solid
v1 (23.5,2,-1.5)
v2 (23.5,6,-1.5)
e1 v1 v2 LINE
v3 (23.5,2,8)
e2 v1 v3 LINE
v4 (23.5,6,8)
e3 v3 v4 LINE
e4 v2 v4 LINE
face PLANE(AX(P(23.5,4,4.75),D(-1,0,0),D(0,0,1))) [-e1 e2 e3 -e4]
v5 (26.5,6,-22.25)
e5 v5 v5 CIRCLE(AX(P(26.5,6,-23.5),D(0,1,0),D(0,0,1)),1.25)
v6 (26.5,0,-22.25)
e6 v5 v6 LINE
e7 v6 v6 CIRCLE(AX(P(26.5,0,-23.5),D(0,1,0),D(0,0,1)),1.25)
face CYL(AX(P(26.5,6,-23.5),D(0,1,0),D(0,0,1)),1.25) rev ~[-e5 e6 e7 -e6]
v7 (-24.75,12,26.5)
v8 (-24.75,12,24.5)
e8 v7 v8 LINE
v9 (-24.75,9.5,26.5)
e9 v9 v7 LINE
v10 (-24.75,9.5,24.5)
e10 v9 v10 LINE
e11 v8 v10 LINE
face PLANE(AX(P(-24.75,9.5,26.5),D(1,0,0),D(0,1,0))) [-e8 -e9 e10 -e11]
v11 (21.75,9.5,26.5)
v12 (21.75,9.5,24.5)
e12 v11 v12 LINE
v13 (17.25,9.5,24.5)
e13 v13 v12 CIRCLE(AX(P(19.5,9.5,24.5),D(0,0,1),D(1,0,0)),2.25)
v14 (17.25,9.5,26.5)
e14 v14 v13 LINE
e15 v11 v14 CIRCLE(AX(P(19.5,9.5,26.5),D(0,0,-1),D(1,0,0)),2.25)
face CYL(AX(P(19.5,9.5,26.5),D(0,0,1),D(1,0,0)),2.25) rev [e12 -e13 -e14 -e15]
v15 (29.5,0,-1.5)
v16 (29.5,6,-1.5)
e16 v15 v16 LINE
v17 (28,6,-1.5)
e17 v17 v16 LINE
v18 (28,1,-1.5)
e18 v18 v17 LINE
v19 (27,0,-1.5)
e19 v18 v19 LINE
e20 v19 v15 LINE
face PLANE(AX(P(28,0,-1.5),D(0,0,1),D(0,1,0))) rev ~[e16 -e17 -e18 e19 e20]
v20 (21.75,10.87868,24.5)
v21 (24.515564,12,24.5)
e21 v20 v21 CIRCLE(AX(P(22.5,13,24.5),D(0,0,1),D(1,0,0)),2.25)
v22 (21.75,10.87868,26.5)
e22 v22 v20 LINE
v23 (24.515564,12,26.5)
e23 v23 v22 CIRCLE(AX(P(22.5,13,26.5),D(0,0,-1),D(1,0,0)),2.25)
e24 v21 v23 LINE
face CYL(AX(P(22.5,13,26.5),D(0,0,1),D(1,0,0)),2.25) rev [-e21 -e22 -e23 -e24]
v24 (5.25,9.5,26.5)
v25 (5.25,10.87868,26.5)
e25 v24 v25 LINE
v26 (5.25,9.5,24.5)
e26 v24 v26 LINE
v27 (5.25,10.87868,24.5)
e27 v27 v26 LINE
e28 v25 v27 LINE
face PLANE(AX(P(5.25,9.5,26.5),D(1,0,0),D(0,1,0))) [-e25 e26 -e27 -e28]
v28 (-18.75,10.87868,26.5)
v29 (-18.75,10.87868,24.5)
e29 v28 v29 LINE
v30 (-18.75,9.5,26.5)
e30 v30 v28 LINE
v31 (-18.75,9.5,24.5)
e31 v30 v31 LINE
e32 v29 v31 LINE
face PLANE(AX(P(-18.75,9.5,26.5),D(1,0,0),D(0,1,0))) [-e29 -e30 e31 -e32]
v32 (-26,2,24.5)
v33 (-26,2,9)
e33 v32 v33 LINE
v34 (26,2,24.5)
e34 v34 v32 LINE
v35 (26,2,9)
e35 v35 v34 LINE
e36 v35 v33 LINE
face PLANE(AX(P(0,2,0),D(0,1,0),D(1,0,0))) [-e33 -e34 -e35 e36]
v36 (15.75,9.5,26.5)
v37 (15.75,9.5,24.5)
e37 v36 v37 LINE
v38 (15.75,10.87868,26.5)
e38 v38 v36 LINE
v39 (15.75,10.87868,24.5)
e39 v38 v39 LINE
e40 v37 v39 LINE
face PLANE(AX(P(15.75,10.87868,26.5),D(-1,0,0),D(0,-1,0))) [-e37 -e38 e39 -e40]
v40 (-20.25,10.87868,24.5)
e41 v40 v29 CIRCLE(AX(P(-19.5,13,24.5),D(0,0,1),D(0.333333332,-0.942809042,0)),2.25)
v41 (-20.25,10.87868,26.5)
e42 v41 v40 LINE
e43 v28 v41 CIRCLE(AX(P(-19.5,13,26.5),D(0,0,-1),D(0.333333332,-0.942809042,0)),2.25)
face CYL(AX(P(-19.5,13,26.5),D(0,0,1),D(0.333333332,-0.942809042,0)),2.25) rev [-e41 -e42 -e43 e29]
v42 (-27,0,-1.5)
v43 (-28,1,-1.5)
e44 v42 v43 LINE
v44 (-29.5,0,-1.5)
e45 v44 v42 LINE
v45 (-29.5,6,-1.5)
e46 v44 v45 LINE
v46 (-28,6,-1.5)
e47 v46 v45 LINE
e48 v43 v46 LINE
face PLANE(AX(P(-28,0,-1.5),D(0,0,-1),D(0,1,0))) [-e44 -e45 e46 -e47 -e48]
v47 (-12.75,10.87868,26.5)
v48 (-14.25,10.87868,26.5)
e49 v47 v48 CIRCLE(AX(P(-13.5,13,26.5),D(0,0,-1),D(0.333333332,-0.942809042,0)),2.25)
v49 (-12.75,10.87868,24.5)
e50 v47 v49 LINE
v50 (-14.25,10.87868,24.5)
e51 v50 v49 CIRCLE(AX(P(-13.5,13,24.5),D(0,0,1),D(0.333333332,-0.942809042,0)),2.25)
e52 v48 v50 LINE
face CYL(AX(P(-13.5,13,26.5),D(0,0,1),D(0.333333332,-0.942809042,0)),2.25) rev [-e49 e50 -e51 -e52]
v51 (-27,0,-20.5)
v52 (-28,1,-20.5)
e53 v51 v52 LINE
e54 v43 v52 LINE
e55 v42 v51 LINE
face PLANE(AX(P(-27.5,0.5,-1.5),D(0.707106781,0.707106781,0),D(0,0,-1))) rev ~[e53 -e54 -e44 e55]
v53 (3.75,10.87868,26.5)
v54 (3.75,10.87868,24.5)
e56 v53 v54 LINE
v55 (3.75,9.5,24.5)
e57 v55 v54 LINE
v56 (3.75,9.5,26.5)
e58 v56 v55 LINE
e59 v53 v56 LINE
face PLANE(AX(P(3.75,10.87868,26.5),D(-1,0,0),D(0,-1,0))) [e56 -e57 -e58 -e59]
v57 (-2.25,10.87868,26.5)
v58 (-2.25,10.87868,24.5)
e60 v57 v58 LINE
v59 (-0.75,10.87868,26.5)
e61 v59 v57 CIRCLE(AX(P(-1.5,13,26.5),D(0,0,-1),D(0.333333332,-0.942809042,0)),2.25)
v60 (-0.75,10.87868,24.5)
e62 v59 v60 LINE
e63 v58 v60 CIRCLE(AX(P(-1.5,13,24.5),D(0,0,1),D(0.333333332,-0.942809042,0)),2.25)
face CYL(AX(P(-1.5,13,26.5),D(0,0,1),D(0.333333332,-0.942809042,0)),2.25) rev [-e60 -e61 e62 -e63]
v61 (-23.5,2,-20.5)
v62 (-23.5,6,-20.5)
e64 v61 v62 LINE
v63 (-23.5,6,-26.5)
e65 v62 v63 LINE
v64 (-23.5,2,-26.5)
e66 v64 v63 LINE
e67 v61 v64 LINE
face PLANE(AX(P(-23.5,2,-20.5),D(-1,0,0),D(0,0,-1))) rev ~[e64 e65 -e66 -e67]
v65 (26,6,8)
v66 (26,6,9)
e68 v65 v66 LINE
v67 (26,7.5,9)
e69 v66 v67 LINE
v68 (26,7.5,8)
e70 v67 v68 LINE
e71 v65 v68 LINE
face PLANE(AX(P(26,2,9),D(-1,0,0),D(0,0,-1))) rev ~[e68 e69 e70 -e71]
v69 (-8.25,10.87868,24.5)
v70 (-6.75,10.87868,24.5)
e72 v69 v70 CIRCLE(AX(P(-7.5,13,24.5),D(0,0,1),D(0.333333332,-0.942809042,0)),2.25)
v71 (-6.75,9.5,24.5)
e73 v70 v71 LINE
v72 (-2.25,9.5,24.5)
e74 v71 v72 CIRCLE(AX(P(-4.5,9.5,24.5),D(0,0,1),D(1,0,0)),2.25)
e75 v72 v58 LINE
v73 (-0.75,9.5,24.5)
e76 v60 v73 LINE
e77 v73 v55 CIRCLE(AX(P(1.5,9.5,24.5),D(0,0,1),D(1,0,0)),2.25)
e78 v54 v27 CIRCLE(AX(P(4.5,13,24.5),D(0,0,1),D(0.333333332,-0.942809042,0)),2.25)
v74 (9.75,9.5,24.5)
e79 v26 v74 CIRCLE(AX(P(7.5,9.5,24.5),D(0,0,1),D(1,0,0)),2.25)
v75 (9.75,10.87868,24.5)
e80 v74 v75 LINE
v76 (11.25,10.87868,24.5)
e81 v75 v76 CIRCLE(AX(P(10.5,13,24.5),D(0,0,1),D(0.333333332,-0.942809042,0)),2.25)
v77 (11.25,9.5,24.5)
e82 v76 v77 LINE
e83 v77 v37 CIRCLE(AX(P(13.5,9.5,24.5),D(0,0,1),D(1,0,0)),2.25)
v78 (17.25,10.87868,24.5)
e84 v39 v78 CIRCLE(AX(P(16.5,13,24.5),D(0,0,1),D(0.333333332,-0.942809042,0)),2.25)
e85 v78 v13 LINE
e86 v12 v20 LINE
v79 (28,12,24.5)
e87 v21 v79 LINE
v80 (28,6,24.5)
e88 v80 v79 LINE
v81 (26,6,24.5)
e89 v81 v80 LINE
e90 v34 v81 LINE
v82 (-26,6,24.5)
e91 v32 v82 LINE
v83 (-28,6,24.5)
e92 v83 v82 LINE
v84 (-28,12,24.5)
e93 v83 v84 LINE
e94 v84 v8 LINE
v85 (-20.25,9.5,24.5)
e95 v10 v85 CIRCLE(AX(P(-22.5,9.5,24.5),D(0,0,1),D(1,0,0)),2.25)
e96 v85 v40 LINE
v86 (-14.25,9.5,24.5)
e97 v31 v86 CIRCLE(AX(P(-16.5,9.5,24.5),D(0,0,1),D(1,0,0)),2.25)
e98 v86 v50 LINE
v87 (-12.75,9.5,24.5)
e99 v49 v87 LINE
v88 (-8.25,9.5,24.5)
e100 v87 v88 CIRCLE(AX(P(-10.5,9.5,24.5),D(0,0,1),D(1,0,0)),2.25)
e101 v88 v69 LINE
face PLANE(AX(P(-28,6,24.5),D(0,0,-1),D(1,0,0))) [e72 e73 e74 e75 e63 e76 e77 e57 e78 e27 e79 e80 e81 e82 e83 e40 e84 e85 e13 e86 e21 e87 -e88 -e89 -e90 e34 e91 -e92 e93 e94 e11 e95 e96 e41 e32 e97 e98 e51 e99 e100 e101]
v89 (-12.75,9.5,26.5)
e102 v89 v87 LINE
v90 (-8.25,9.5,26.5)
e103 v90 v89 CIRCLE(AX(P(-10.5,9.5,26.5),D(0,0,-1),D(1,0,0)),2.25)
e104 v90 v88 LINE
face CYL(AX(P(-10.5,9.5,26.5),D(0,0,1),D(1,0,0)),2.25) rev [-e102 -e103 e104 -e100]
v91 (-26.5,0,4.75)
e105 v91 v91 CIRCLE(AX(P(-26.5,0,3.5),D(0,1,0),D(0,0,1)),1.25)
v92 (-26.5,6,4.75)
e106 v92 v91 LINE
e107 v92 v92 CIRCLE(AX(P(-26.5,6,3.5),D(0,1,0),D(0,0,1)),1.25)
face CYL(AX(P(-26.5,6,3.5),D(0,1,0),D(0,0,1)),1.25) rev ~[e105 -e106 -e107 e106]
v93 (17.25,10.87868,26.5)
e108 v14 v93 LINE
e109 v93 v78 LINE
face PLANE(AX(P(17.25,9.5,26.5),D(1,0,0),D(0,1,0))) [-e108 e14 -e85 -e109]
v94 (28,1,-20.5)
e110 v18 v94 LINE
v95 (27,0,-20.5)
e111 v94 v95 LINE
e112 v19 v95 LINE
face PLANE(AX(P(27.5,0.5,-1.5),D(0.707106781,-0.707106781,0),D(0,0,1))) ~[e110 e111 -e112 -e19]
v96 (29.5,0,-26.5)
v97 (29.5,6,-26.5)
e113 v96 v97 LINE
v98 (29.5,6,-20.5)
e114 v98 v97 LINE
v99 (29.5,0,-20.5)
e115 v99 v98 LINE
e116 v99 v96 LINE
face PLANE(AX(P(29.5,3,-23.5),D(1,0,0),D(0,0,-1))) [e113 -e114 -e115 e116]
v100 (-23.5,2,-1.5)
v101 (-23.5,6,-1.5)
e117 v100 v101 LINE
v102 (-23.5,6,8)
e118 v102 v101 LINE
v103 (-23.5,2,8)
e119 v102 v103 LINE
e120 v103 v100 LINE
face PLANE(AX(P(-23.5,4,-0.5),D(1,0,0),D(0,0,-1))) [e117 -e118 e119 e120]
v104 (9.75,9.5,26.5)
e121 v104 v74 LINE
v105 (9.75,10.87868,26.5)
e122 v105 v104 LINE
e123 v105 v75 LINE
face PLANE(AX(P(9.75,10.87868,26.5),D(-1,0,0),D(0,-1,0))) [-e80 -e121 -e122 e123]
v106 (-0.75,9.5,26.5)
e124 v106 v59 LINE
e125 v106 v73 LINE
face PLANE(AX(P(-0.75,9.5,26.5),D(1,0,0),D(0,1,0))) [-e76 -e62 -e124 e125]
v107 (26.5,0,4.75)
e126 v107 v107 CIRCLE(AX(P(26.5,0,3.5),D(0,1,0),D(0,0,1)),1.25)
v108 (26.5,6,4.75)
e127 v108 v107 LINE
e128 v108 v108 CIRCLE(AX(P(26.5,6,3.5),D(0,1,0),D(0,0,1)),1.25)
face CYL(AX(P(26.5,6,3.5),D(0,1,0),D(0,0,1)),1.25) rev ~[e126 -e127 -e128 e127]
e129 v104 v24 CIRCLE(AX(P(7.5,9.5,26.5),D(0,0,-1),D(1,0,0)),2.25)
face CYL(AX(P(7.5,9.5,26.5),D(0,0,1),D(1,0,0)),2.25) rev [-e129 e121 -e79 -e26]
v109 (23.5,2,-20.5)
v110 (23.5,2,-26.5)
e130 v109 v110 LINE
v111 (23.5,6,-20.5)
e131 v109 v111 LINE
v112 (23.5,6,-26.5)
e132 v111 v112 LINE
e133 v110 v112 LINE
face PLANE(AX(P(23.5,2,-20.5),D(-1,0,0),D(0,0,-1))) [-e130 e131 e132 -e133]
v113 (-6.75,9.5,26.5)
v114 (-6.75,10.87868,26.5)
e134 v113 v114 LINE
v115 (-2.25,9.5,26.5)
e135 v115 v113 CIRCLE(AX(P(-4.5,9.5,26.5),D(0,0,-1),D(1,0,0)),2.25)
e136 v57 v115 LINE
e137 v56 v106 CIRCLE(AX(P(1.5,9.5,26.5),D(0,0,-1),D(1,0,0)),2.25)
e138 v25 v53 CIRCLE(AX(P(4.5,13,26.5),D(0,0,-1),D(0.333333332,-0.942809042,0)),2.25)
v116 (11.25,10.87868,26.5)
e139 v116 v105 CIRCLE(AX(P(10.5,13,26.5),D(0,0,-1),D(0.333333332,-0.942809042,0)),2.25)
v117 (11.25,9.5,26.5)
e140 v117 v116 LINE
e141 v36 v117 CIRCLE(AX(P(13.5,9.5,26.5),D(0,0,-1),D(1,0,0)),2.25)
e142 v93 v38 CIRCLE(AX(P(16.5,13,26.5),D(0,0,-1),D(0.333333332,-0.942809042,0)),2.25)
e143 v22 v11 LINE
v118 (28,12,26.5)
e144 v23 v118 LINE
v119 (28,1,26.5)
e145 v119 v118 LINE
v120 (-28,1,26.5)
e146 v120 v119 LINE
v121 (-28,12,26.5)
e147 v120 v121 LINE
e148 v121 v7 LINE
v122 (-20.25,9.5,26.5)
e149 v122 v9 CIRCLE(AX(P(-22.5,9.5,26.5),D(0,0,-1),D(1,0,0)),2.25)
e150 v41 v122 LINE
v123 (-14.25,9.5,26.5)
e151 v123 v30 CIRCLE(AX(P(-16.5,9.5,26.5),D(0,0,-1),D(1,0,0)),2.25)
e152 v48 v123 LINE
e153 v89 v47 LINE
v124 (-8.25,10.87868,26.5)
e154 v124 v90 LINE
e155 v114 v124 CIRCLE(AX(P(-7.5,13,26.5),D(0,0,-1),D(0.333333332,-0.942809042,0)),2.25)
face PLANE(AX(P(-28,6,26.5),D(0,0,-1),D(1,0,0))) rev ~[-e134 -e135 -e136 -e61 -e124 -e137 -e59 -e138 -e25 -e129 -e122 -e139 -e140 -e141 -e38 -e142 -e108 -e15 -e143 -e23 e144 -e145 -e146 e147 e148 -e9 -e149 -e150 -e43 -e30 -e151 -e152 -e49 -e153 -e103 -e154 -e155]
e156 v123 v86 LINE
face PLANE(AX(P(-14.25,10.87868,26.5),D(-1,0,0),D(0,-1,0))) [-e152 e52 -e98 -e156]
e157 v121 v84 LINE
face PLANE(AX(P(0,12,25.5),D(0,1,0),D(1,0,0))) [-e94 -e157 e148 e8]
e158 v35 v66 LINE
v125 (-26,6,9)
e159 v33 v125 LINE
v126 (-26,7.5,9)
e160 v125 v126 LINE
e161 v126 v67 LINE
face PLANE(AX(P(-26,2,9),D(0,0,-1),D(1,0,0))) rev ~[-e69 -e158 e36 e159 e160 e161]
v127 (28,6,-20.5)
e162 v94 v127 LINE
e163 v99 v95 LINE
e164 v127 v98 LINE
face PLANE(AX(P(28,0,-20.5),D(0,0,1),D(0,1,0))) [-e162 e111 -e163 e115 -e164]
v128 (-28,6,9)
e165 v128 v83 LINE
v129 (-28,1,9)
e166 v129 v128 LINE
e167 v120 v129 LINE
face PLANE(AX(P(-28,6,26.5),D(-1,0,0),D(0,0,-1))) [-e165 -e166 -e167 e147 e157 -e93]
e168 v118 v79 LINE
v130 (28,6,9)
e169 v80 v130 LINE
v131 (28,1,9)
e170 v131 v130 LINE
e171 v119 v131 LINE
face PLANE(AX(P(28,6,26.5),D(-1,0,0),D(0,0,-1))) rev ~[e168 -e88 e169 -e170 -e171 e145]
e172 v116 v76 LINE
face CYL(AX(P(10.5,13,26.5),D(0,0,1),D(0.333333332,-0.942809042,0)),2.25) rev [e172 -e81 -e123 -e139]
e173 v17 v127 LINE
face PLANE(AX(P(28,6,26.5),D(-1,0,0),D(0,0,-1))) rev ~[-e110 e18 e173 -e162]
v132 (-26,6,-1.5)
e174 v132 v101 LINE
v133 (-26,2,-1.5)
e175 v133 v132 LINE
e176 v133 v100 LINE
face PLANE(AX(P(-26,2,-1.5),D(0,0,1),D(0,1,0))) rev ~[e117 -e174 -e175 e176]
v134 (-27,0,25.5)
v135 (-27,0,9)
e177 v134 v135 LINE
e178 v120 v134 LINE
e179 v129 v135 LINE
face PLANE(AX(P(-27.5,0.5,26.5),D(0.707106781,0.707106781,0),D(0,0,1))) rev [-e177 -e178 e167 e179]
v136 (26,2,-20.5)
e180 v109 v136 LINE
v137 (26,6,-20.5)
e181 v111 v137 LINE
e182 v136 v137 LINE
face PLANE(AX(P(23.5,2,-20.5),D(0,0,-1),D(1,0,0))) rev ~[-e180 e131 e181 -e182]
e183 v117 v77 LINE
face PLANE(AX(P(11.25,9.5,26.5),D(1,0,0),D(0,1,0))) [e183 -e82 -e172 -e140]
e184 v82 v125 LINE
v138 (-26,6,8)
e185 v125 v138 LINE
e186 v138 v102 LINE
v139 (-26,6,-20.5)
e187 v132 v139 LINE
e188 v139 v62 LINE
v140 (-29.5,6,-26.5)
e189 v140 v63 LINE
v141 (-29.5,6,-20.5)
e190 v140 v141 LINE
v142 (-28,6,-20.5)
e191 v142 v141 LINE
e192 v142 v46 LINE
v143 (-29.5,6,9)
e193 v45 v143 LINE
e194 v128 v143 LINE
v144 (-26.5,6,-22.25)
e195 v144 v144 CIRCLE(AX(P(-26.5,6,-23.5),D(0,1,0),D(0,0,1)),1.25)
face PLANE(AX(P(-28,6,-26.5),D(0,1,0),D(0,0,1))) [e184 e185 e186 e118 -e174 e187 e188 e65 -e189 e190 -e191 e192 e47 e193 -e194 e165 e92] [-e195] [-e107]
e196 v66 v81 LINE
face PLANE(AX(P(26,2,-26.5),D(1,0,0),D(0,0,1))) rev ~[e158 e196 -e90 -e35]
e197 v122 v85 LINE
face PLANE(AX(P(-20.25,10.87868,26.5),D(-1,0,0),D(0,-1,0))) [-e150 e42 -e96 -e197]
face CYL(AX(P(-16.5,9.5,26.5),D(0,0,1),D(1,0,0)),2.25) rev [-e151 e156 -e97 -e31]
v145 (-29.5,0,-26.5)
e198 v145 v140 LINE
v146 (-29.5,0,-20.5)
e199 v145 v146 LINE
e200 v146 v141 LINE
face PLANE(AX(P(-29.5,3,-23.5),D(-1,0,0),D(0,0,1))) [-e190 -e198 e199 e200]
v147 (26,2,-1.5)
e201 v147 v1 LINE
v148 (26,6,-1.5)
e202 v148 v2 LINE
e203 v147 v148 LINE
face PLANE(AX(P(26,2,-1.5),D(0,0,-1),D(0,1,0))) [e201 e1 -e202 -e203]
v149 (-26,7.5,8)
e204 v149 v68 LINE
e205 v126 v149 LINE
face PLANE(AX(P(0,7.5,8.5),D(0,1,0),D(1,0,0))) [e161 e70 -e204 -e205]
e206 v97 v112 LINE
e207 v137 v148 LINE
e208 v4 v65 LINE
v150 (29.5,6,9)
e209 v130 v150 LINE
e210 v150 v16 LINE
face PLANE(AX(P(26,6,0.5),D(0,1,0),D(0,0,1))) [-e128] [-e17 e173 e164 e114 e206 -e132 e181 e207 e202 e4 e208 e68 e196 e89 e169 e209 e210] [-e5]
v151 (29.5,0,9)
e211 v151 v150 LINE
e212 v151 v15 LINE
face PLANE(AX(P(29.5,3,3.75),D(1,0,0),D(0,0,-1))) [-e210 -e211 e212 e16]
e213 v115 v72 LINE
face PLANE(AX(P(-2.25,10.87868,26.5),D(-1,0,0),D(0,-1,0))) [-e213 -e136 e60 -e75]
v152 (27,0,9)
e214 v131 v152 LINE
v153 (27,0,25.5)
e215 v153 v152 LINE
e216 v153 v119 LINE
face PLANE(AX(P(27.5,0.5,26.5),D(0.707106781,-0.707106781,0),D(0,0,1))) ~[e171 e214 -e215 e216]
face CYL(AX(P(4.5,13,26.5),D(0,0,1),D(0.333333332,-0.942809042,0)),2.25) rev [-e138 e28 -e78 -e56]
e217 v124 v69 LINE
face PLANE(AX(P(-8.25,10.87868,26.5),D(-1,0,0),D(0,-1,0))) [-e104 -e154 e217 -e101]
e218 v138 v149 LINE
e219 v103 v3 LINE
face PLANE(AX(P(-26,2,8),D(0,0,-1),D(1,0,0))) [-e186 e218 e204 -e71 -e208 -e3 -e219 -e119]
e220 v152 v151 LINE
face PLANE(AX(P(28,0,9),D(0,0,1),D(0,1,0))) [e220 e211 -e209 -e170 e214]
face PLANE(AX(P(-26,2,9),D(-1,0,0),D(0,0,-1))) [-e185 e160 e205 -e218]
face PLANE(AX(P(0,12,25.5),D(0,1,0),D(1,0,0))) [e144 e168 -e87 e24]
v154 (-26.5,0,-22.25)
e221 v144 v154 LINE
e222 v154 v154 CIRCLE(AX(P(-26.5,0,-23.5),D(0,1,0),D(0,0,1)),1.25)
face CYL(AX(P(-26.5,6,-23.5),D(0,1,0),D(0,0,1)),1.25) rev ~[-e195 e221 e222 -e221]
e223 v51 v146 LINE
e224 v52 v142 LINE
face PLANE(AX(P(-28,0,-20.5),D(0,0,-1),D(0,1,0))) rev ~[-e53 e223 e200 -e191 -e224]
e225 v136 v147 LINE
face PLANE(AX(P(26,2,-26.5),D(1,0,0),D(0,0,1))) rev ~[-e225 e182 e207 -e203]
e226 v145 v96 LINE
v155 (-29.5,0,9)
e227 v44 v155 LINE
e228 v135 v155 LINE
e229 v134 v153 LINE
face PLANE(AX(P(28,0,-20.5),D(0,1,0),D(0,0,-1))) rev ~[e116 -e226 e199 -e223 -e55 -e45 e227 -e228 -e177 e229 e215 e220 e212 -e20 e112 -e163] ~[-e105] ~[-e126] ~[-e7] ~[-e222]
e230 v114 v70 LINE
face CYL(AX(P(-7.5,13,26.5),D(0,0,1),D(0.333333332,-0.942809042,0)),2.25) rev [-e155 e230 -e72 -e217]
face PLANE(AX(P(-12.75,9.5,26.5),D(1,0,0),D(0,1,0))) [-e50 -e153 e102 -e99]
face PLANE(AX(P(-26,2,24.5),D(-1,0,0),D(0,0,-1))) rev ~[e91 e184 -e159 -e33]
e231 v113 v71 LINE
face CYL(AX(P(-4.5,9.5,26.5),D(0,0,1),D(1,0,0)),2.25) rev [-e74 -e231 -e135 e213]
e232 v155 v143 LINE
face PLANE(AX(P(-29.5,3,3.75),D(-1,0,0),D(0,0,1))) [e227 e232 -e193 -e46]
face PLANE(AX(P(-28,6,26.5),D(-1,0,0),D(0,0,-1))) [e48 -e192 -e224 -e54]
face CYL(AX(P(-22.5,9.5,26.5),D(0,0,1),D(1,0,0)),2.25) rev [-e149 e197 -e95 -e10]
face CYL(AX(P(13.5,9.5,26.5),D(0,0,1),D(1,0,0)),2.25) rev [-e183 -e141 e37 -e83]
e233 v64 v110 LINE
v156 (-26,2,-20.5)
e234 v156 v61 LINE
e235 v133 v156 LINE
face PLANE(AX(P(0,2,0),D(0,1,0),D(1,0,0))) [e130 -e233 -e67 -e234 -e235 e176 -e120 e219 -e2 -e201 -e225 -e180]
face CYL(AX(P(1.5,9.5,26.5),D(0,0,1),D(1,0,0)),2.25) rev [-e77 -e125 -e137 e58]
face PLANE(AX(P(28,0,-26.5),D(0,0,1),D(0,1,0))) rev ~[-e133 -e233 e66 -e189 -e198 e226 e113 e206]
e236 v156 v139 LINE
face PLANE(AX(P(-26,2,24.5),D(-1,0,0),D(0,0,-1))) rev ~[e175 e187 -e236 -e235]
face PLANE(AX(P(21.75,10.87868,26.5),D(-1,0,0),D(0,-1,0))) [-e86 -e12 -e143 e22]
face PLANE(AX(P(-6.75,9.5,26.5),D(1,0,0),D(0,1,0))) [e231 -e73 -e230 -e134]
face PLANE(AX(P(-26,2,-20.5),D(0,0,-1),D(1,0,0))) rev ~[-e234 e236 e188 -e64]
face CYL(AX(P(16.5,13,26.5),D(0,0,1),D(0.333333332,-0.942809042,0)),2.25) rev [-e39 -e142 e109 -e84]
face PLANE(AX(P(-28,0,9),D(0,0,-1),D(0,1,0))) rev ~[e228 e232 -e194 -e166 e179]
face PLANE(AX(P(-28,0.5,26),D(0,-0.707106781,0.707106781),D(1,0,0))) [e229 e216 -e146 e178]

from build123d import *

# Parameters (mm, degrees)
SKETCH1_W            = 56
SKETCH1_H            = 53
BOSS_EXTRUDE1_DEPTH  = 2
BOSS_EXTRUDE2_DEPTH  = 4
SKETCH3_W            = 56
SKETCH3_H            = 2
BOSS_EXTRUDE3_DEPTH  = 6
SKETCH4_W            = 2.5
SKETCH4_H            = 6
BOSS_EXTRUDE4_DEPTH  = 4
SKETCH5_W            = 2.5
SKETCH5_H            = 6
BOSS_EXTRUDE5_DEPTH  = 4
SKETCH6_W            = 6
SKETCH6_H            = 6
BOSS_EXTRUDE6_DEPTH  = 1.5
SKETCH7_W            = 6
SKETCH7_H            = 6
BOSS_EXTRUDE7_DEPTH  = 1.5
SKETCH8_W            = 2
SKETCH8_H            = 4
BOSS_EXTRUDE8_DEPTH  = 2.5
SKETCH9_W            = 2
SKETCH9_H            = 4
BOSS_EXTRUDE9_DEPTH  = 2.5
SKETCH10_W           = 52
SKETCH10_H           = 1
BOSS_EXTRUDE10_DEPTH = 5.5
CUT_EXTRUDE1_DEPTH   = 5.5
SKETCH12_R           = 1.25
CUT_EXTRUDE2_DEPTH   = 15.5
SKETCH13_R           = 1.25
CUT_EXTRUDE3_DEPTH   = 15.5
SKETCH14_W           = 8.5
SKETCH14_H           = 4
BOSS_EXTRUDE11_DEPTH = 2.5
SKETCH15_W           = 8.5
SKETCH15_H           = 4
BOSS_EXTRUDE12_DEPTH = 2.5
SKETCH16_W           = 10.5
SKETCH16_H           = 6
BOSS_EXTRUDE13_DEPTH = 1.5
SKETCH17_W           = 10.5
SKETCH17_H           = 6
BOSS_EXTRUDE14_DEPTH = 1.5
SKETCH18_R           = 1.25
CUT_EXTRUDE4_DEPTH   = 10
SKETCH19_R           = 1.25
CUT_EXTRUDE5_DEPTH   = 10
CHAMFER4_SIZE        = 1


with BuildPart() as part:
    # Sketch1 → Boss-Extrude1 (new body)
    with BuildSketch(Plane(origin=(0, 0, 0), x_dir=(1, 0, 0), z_dir=(0, 1, 0))):
        Rectangle(SKETCH1_W, SKETCH1_H)
    extrude(amount=BOSS_EXTRUDE1_DEPTH)

    # Sketch2 → Boss-Extrude2 (add)
    with BuildSketch(Plane(origin=(0, 2, 0), x_dir=(1, 0, 0), z_dir=(0, 1, 0))):
        Polygon((-26, 26.5), (-28, 26.5), (-28, -23), (-28, -26.5), (-26, -26.5), (26, -26.5), (28, -26.5), (28, -23), (28, 26.5), (26, 26.5), (26, -24.5), (-26, -24.5), align=None)
    extrude(amount=BOSS_EXTRUDE2_DEPTH)

    # Sketch3 → Boss-Extrude3 (add)
    with BuildSketch(Plane(origin=(0, 6, 0), x_dir=(1, 0, 0), z_dir=(0, 1, 0))):
        with Locations((0, -25.5)):
            Rectangle(SKETCH3_W, SKETCH3_H)
    extrude(amount=BOSS_EXTRUDE3_DEPTH)

    # Sketch4 → Boss-Extrude4 (add)
    with BuildSketch(Plane(origin=(0, 2, 0), x_dir=(1, 0, 0), z_dir=(0, 1, 0))):
        with Locations((-24.75, 23.5)):
            Rectangle(SKETCH4_W, SKETCH4_H)
    extrude(amount=BOSS_EXTRUDE4_DEPTH)

    # Sketch5 → Boss-Extrude5 (add)
    with BuildSketch(Plane(origin=(0, 2, 0), x_dir=(1, 0, 0), z_dir=(0, 1, 0))):
        with Locations((24.75, 23.5)):
            Rectangle(SKETCH5_W, SKETCH5_H)
    extrude(amount=BOSS_EXTRUDE5_DEPTH)

    # Sketch6 → Boss-Extrude6 (add)
    with BuildSketch(Plane.ZY.offset(28)):
        with Locations((-23.5, 3)):
            Rectangle(SKETCH6_W, SKETCH6_H)
    extrude(amount=BOSS_EXTRUDE6_DEPTH)

    # Sketch7 → Boss-Extrude7 (add)
    with BuildSketch(Plane(origin=(28, 0, 0), x_dir=(0, 0, -1), z_dir=(1, 0, 0))):
        with Locations((23.5, 3)):
            Rectangle(SKETCH7_W, SKETCH7_H)
    extrude(amount=BOSS_EXTRUDE7_DEPTH)

    # Sketch8 → Boss-Extrude8 (add)
    with BuildSketch(Plane.ZY.offset(-26)):
        with Locations((-0.5, 4)):
            Rectangle(SKETCH8_W, SKETCH8_H)
    extrude(amount=BOSS_EXTRUDE8_DEPTH)

    # Sketch9 → Boss-Extrude9 (add)
    with BuildSketch(Plane(origin=(-26, 0, 0), x_dir=(0, 0, -1), z_dir=(1, 0, 0))):
        with Locations((0.5, 4)):
            Rectangle(SKETCH9_W, SKETCH9_H)
    extrude(amount=BOSS_EXTRUDE9_DEPTH)

    # Sketch10 → Boss-Extrude10 (add)
    with BuildSketch(Plane(origin=(0, 2, 0), x_dir=(1, 0, 0), z_dir=(0, 1, 0))):
        with Locations((0, -8.5)):
            Rectangle(SKETCH10_W, SKETCH10_H)
    extrude(amount=BOSS_EXTRUDE10_DEPTH)

    # Sketch11 → Cut-Extrude1 (cut)
    with BuildSketch(Plane.XY.offset(26.5)):
        with BuildLine():
            Line((-24.75, 9.5), (-24.75, 12))
            Line((-24.75, 12), (24.75, 13))
            ThreePointArc((24.75, 13), (23.799038106, 11.162882693), (21.75, 10.878679656))
            Line((21.75, 10.878679656), (21.75, 9.5))
            ThreePointArc((21.75, 9.5), (19.5, 7.25), (17.25, 9.5))
            Line((17.25, 9.5), (17.25, 10.878679656))
            ThreePointArc((17.25, 10.878679656), (16.5, 10.75), (15.75, 10.878679656))
            Line((15.75, 10.878679656), (15.75, 9.5))
            ThreePointArc((15.75, 9.5), (13.5, 7.25), (11.25, 9.5))
            Line((11.25, 9.5), (11.25, 10.878679656))
            ThreePointArc((11.25, 10.878679656), (10.5, 10.75), (9.75, 10.878679656))
            Line((9.75, 10.878679656), (9.75, 9.5))
            ThreePointArc((9.75, 9.5), (7.5, 7.25), (5.25, 9.5))
            Line((5.25, 9.5), (5.25, 10.878679656))
            ThreePointArc((5.25, 10.878679656), (4.5, 10.75), (3.75, 10.878679656))
            Line((3.75, 10.878679656), (3.75, 9.5))
            ThreePointArc((3.75, 9.5), (1.5, 7.25), (-0.75, 9.5))
            Line((-0.75, 9.5), (-0.75, 10.878679656))
            ThreePointArc((-0.75, 10.878679656), (-1.5, 10.75), (-2.25, 10.878679656))
            Line((-2.25, 10.878679656), (-2.25, 9.5))
            ThreePointArc((-2.25, 9.5), (-4.5, 7.25), (-6.75, 9.5))
            Line((-6.75, 9.5), (-6.75, 10.878679656))
            ThreePointArc((-6.75, 10.878679656), (-7.5, 10.75), (-8.25, 10.878679656))
            Line((-8.25, 10.878679656), (-8.25, 9.5))
            ThreePointArc((-8.25, 9.5), (-10.5, 7.25), (-12.75, 9.5))
            Line((-12.75, 9.5), (-12.75, 10.878679656))
            ThreePointArc((-12.75, 10.878679656), (-13.5, 10.75), (-14.25, 10.878679656))
            Line((-14.25, 10.878679656), (-14.25, 9.5))
            ThreePointArc((-14.25, 9.5), (-16.5, 7.25), (-18.75, 9.5))
            Line((-18.75, 9.5), (-18.75, 10.878679656))
            ThreePointArc((-18.75, 10.878679656), (-19.5, 10.75), (-20.25, 10.878679656))
            Line((-20.25, 10.878679656), (-20.25, 9.5))
            ThreePointArc((-20.25, 9.5), (-22.5, 7.25), (-24.75, 9.5))
        make_face()
    extrude(amount=-CUT_EXTRUDE1_DEPTH, mode=Mode.SUBTRACT)

    # Sketch12 → Cut-Extrude2 (cut)
    with BuildSketch(Plane(origin=(0, 6, 0), x_dir=(1, 0, 0), z_dir=(0, 1, 0))):
        with Locations(Location((26.5, 23.5, 0), (0, 0, 270))):
            Circle(SKETCH12_R)
    extrude(amount=-CUT_EXTRUDE2_DEPTH, mode=Mode.SUBTRACT)

    # Sketch13 → Cut-Extrude3 (cut)
    with BuildSketch(Plane(origin=(0, 6, 0), x_dir=(1, 0, 0), z_dir=(0, 1, 0))):
        with Locations(Location((-26.5, 23.5, 0), (0, 0, 270))):
            Circle(SKETCH13_R)
    extrude(amount=-CUT_EXTRUDE3_DEPTH, mode=Mode.SUBTRACT)

    # Sketch14 → Boss-Extrude11 (add)
    with BuildSketch(Plane(origin=(-26, 0, 0), x_dir=(0, 0, -1), z_dir=(1, 0, 0))):
        with Locations((-4.75, 4)):
            Rectangle(SKETCH14_W, SKETCH14_H)
    extrude(amount=BOSS_EXTRUDE11_DEPTH)

    # Sketch15 → Boss-Extrude12 (add)
    with BuildSketch(Plane.ZY.offset(-26)):
        with Locations((4.75, 4)):
            Rectangle(SKETCH15_W, SKETCH15_H)
    extrude(amount=BOSS_EXTRUDE12_DEPTH)

    # Sketch16 → Boss-Extrude13 (add)
    with BuildSketch(Plane.ZY.offset(28)):
        with Locations((3.75, 3)):
            Rectangle(SKETCH16_W, SKETCH16_H)
    extrude(amount=BOSS_EXTRUDE13_DEPTH)

    # Sketch17 → Boss-Extrude14 (add)
    with BuildSketch(Plane(origin=(28, 0, 0), x_dir=(0, 0, -1), z_dir=(1, 0, 0))):
        with Locations((-3.75, 3)):
            Rectangle(SKETCH17_W, SKETCH17_H)
    extrude(amount=BOSS_EXTRUDE14_DEPTH)

    # Sketch18 → Cut-Extrude4 (cut)
    with BuildSketch(Plane(origin=(0, 6, 0), x_dir=(1, 0, 0), z_dir=(0, 1, 0))):
        with Locations(Location((26.5, -3.5, 0), (0, 0, 270))):
            Circle(SKETCH18_R)
    extrude(amount=-CUT_EXTRUDE4_DEPTH, mode=Mode.SUBTRACT)

    # Sketch19 → Cut-Extrude5 (cut)
    with BuildSketch(Plane(origin=(0, 6, 0), x_dir=(1, 0, 0), z_dir=(0, 1, 0))):
        with Locations(Location((-26.5, -3.5, 0), (0, 0, 270))):
            Circle(SKETCH19_R)
    extrude(amount=-CUT_EXTRUDE5_DEPTH, mode=Mode.SUBTRACT)

    # Chamfer4
    chamfer4_edges = [part.edges().sort_by_distance(p)[0] for p in [
        (-28, 0, 17.75),
        (28, 0, -11),
        (0, 0, 26.5),
        (28, 0, 17.75),
        (-28, 0, -11),
    ]]
    chamfer(chamfer4_edges, length=CHAMFER4_SIZE)


solid = part.part
